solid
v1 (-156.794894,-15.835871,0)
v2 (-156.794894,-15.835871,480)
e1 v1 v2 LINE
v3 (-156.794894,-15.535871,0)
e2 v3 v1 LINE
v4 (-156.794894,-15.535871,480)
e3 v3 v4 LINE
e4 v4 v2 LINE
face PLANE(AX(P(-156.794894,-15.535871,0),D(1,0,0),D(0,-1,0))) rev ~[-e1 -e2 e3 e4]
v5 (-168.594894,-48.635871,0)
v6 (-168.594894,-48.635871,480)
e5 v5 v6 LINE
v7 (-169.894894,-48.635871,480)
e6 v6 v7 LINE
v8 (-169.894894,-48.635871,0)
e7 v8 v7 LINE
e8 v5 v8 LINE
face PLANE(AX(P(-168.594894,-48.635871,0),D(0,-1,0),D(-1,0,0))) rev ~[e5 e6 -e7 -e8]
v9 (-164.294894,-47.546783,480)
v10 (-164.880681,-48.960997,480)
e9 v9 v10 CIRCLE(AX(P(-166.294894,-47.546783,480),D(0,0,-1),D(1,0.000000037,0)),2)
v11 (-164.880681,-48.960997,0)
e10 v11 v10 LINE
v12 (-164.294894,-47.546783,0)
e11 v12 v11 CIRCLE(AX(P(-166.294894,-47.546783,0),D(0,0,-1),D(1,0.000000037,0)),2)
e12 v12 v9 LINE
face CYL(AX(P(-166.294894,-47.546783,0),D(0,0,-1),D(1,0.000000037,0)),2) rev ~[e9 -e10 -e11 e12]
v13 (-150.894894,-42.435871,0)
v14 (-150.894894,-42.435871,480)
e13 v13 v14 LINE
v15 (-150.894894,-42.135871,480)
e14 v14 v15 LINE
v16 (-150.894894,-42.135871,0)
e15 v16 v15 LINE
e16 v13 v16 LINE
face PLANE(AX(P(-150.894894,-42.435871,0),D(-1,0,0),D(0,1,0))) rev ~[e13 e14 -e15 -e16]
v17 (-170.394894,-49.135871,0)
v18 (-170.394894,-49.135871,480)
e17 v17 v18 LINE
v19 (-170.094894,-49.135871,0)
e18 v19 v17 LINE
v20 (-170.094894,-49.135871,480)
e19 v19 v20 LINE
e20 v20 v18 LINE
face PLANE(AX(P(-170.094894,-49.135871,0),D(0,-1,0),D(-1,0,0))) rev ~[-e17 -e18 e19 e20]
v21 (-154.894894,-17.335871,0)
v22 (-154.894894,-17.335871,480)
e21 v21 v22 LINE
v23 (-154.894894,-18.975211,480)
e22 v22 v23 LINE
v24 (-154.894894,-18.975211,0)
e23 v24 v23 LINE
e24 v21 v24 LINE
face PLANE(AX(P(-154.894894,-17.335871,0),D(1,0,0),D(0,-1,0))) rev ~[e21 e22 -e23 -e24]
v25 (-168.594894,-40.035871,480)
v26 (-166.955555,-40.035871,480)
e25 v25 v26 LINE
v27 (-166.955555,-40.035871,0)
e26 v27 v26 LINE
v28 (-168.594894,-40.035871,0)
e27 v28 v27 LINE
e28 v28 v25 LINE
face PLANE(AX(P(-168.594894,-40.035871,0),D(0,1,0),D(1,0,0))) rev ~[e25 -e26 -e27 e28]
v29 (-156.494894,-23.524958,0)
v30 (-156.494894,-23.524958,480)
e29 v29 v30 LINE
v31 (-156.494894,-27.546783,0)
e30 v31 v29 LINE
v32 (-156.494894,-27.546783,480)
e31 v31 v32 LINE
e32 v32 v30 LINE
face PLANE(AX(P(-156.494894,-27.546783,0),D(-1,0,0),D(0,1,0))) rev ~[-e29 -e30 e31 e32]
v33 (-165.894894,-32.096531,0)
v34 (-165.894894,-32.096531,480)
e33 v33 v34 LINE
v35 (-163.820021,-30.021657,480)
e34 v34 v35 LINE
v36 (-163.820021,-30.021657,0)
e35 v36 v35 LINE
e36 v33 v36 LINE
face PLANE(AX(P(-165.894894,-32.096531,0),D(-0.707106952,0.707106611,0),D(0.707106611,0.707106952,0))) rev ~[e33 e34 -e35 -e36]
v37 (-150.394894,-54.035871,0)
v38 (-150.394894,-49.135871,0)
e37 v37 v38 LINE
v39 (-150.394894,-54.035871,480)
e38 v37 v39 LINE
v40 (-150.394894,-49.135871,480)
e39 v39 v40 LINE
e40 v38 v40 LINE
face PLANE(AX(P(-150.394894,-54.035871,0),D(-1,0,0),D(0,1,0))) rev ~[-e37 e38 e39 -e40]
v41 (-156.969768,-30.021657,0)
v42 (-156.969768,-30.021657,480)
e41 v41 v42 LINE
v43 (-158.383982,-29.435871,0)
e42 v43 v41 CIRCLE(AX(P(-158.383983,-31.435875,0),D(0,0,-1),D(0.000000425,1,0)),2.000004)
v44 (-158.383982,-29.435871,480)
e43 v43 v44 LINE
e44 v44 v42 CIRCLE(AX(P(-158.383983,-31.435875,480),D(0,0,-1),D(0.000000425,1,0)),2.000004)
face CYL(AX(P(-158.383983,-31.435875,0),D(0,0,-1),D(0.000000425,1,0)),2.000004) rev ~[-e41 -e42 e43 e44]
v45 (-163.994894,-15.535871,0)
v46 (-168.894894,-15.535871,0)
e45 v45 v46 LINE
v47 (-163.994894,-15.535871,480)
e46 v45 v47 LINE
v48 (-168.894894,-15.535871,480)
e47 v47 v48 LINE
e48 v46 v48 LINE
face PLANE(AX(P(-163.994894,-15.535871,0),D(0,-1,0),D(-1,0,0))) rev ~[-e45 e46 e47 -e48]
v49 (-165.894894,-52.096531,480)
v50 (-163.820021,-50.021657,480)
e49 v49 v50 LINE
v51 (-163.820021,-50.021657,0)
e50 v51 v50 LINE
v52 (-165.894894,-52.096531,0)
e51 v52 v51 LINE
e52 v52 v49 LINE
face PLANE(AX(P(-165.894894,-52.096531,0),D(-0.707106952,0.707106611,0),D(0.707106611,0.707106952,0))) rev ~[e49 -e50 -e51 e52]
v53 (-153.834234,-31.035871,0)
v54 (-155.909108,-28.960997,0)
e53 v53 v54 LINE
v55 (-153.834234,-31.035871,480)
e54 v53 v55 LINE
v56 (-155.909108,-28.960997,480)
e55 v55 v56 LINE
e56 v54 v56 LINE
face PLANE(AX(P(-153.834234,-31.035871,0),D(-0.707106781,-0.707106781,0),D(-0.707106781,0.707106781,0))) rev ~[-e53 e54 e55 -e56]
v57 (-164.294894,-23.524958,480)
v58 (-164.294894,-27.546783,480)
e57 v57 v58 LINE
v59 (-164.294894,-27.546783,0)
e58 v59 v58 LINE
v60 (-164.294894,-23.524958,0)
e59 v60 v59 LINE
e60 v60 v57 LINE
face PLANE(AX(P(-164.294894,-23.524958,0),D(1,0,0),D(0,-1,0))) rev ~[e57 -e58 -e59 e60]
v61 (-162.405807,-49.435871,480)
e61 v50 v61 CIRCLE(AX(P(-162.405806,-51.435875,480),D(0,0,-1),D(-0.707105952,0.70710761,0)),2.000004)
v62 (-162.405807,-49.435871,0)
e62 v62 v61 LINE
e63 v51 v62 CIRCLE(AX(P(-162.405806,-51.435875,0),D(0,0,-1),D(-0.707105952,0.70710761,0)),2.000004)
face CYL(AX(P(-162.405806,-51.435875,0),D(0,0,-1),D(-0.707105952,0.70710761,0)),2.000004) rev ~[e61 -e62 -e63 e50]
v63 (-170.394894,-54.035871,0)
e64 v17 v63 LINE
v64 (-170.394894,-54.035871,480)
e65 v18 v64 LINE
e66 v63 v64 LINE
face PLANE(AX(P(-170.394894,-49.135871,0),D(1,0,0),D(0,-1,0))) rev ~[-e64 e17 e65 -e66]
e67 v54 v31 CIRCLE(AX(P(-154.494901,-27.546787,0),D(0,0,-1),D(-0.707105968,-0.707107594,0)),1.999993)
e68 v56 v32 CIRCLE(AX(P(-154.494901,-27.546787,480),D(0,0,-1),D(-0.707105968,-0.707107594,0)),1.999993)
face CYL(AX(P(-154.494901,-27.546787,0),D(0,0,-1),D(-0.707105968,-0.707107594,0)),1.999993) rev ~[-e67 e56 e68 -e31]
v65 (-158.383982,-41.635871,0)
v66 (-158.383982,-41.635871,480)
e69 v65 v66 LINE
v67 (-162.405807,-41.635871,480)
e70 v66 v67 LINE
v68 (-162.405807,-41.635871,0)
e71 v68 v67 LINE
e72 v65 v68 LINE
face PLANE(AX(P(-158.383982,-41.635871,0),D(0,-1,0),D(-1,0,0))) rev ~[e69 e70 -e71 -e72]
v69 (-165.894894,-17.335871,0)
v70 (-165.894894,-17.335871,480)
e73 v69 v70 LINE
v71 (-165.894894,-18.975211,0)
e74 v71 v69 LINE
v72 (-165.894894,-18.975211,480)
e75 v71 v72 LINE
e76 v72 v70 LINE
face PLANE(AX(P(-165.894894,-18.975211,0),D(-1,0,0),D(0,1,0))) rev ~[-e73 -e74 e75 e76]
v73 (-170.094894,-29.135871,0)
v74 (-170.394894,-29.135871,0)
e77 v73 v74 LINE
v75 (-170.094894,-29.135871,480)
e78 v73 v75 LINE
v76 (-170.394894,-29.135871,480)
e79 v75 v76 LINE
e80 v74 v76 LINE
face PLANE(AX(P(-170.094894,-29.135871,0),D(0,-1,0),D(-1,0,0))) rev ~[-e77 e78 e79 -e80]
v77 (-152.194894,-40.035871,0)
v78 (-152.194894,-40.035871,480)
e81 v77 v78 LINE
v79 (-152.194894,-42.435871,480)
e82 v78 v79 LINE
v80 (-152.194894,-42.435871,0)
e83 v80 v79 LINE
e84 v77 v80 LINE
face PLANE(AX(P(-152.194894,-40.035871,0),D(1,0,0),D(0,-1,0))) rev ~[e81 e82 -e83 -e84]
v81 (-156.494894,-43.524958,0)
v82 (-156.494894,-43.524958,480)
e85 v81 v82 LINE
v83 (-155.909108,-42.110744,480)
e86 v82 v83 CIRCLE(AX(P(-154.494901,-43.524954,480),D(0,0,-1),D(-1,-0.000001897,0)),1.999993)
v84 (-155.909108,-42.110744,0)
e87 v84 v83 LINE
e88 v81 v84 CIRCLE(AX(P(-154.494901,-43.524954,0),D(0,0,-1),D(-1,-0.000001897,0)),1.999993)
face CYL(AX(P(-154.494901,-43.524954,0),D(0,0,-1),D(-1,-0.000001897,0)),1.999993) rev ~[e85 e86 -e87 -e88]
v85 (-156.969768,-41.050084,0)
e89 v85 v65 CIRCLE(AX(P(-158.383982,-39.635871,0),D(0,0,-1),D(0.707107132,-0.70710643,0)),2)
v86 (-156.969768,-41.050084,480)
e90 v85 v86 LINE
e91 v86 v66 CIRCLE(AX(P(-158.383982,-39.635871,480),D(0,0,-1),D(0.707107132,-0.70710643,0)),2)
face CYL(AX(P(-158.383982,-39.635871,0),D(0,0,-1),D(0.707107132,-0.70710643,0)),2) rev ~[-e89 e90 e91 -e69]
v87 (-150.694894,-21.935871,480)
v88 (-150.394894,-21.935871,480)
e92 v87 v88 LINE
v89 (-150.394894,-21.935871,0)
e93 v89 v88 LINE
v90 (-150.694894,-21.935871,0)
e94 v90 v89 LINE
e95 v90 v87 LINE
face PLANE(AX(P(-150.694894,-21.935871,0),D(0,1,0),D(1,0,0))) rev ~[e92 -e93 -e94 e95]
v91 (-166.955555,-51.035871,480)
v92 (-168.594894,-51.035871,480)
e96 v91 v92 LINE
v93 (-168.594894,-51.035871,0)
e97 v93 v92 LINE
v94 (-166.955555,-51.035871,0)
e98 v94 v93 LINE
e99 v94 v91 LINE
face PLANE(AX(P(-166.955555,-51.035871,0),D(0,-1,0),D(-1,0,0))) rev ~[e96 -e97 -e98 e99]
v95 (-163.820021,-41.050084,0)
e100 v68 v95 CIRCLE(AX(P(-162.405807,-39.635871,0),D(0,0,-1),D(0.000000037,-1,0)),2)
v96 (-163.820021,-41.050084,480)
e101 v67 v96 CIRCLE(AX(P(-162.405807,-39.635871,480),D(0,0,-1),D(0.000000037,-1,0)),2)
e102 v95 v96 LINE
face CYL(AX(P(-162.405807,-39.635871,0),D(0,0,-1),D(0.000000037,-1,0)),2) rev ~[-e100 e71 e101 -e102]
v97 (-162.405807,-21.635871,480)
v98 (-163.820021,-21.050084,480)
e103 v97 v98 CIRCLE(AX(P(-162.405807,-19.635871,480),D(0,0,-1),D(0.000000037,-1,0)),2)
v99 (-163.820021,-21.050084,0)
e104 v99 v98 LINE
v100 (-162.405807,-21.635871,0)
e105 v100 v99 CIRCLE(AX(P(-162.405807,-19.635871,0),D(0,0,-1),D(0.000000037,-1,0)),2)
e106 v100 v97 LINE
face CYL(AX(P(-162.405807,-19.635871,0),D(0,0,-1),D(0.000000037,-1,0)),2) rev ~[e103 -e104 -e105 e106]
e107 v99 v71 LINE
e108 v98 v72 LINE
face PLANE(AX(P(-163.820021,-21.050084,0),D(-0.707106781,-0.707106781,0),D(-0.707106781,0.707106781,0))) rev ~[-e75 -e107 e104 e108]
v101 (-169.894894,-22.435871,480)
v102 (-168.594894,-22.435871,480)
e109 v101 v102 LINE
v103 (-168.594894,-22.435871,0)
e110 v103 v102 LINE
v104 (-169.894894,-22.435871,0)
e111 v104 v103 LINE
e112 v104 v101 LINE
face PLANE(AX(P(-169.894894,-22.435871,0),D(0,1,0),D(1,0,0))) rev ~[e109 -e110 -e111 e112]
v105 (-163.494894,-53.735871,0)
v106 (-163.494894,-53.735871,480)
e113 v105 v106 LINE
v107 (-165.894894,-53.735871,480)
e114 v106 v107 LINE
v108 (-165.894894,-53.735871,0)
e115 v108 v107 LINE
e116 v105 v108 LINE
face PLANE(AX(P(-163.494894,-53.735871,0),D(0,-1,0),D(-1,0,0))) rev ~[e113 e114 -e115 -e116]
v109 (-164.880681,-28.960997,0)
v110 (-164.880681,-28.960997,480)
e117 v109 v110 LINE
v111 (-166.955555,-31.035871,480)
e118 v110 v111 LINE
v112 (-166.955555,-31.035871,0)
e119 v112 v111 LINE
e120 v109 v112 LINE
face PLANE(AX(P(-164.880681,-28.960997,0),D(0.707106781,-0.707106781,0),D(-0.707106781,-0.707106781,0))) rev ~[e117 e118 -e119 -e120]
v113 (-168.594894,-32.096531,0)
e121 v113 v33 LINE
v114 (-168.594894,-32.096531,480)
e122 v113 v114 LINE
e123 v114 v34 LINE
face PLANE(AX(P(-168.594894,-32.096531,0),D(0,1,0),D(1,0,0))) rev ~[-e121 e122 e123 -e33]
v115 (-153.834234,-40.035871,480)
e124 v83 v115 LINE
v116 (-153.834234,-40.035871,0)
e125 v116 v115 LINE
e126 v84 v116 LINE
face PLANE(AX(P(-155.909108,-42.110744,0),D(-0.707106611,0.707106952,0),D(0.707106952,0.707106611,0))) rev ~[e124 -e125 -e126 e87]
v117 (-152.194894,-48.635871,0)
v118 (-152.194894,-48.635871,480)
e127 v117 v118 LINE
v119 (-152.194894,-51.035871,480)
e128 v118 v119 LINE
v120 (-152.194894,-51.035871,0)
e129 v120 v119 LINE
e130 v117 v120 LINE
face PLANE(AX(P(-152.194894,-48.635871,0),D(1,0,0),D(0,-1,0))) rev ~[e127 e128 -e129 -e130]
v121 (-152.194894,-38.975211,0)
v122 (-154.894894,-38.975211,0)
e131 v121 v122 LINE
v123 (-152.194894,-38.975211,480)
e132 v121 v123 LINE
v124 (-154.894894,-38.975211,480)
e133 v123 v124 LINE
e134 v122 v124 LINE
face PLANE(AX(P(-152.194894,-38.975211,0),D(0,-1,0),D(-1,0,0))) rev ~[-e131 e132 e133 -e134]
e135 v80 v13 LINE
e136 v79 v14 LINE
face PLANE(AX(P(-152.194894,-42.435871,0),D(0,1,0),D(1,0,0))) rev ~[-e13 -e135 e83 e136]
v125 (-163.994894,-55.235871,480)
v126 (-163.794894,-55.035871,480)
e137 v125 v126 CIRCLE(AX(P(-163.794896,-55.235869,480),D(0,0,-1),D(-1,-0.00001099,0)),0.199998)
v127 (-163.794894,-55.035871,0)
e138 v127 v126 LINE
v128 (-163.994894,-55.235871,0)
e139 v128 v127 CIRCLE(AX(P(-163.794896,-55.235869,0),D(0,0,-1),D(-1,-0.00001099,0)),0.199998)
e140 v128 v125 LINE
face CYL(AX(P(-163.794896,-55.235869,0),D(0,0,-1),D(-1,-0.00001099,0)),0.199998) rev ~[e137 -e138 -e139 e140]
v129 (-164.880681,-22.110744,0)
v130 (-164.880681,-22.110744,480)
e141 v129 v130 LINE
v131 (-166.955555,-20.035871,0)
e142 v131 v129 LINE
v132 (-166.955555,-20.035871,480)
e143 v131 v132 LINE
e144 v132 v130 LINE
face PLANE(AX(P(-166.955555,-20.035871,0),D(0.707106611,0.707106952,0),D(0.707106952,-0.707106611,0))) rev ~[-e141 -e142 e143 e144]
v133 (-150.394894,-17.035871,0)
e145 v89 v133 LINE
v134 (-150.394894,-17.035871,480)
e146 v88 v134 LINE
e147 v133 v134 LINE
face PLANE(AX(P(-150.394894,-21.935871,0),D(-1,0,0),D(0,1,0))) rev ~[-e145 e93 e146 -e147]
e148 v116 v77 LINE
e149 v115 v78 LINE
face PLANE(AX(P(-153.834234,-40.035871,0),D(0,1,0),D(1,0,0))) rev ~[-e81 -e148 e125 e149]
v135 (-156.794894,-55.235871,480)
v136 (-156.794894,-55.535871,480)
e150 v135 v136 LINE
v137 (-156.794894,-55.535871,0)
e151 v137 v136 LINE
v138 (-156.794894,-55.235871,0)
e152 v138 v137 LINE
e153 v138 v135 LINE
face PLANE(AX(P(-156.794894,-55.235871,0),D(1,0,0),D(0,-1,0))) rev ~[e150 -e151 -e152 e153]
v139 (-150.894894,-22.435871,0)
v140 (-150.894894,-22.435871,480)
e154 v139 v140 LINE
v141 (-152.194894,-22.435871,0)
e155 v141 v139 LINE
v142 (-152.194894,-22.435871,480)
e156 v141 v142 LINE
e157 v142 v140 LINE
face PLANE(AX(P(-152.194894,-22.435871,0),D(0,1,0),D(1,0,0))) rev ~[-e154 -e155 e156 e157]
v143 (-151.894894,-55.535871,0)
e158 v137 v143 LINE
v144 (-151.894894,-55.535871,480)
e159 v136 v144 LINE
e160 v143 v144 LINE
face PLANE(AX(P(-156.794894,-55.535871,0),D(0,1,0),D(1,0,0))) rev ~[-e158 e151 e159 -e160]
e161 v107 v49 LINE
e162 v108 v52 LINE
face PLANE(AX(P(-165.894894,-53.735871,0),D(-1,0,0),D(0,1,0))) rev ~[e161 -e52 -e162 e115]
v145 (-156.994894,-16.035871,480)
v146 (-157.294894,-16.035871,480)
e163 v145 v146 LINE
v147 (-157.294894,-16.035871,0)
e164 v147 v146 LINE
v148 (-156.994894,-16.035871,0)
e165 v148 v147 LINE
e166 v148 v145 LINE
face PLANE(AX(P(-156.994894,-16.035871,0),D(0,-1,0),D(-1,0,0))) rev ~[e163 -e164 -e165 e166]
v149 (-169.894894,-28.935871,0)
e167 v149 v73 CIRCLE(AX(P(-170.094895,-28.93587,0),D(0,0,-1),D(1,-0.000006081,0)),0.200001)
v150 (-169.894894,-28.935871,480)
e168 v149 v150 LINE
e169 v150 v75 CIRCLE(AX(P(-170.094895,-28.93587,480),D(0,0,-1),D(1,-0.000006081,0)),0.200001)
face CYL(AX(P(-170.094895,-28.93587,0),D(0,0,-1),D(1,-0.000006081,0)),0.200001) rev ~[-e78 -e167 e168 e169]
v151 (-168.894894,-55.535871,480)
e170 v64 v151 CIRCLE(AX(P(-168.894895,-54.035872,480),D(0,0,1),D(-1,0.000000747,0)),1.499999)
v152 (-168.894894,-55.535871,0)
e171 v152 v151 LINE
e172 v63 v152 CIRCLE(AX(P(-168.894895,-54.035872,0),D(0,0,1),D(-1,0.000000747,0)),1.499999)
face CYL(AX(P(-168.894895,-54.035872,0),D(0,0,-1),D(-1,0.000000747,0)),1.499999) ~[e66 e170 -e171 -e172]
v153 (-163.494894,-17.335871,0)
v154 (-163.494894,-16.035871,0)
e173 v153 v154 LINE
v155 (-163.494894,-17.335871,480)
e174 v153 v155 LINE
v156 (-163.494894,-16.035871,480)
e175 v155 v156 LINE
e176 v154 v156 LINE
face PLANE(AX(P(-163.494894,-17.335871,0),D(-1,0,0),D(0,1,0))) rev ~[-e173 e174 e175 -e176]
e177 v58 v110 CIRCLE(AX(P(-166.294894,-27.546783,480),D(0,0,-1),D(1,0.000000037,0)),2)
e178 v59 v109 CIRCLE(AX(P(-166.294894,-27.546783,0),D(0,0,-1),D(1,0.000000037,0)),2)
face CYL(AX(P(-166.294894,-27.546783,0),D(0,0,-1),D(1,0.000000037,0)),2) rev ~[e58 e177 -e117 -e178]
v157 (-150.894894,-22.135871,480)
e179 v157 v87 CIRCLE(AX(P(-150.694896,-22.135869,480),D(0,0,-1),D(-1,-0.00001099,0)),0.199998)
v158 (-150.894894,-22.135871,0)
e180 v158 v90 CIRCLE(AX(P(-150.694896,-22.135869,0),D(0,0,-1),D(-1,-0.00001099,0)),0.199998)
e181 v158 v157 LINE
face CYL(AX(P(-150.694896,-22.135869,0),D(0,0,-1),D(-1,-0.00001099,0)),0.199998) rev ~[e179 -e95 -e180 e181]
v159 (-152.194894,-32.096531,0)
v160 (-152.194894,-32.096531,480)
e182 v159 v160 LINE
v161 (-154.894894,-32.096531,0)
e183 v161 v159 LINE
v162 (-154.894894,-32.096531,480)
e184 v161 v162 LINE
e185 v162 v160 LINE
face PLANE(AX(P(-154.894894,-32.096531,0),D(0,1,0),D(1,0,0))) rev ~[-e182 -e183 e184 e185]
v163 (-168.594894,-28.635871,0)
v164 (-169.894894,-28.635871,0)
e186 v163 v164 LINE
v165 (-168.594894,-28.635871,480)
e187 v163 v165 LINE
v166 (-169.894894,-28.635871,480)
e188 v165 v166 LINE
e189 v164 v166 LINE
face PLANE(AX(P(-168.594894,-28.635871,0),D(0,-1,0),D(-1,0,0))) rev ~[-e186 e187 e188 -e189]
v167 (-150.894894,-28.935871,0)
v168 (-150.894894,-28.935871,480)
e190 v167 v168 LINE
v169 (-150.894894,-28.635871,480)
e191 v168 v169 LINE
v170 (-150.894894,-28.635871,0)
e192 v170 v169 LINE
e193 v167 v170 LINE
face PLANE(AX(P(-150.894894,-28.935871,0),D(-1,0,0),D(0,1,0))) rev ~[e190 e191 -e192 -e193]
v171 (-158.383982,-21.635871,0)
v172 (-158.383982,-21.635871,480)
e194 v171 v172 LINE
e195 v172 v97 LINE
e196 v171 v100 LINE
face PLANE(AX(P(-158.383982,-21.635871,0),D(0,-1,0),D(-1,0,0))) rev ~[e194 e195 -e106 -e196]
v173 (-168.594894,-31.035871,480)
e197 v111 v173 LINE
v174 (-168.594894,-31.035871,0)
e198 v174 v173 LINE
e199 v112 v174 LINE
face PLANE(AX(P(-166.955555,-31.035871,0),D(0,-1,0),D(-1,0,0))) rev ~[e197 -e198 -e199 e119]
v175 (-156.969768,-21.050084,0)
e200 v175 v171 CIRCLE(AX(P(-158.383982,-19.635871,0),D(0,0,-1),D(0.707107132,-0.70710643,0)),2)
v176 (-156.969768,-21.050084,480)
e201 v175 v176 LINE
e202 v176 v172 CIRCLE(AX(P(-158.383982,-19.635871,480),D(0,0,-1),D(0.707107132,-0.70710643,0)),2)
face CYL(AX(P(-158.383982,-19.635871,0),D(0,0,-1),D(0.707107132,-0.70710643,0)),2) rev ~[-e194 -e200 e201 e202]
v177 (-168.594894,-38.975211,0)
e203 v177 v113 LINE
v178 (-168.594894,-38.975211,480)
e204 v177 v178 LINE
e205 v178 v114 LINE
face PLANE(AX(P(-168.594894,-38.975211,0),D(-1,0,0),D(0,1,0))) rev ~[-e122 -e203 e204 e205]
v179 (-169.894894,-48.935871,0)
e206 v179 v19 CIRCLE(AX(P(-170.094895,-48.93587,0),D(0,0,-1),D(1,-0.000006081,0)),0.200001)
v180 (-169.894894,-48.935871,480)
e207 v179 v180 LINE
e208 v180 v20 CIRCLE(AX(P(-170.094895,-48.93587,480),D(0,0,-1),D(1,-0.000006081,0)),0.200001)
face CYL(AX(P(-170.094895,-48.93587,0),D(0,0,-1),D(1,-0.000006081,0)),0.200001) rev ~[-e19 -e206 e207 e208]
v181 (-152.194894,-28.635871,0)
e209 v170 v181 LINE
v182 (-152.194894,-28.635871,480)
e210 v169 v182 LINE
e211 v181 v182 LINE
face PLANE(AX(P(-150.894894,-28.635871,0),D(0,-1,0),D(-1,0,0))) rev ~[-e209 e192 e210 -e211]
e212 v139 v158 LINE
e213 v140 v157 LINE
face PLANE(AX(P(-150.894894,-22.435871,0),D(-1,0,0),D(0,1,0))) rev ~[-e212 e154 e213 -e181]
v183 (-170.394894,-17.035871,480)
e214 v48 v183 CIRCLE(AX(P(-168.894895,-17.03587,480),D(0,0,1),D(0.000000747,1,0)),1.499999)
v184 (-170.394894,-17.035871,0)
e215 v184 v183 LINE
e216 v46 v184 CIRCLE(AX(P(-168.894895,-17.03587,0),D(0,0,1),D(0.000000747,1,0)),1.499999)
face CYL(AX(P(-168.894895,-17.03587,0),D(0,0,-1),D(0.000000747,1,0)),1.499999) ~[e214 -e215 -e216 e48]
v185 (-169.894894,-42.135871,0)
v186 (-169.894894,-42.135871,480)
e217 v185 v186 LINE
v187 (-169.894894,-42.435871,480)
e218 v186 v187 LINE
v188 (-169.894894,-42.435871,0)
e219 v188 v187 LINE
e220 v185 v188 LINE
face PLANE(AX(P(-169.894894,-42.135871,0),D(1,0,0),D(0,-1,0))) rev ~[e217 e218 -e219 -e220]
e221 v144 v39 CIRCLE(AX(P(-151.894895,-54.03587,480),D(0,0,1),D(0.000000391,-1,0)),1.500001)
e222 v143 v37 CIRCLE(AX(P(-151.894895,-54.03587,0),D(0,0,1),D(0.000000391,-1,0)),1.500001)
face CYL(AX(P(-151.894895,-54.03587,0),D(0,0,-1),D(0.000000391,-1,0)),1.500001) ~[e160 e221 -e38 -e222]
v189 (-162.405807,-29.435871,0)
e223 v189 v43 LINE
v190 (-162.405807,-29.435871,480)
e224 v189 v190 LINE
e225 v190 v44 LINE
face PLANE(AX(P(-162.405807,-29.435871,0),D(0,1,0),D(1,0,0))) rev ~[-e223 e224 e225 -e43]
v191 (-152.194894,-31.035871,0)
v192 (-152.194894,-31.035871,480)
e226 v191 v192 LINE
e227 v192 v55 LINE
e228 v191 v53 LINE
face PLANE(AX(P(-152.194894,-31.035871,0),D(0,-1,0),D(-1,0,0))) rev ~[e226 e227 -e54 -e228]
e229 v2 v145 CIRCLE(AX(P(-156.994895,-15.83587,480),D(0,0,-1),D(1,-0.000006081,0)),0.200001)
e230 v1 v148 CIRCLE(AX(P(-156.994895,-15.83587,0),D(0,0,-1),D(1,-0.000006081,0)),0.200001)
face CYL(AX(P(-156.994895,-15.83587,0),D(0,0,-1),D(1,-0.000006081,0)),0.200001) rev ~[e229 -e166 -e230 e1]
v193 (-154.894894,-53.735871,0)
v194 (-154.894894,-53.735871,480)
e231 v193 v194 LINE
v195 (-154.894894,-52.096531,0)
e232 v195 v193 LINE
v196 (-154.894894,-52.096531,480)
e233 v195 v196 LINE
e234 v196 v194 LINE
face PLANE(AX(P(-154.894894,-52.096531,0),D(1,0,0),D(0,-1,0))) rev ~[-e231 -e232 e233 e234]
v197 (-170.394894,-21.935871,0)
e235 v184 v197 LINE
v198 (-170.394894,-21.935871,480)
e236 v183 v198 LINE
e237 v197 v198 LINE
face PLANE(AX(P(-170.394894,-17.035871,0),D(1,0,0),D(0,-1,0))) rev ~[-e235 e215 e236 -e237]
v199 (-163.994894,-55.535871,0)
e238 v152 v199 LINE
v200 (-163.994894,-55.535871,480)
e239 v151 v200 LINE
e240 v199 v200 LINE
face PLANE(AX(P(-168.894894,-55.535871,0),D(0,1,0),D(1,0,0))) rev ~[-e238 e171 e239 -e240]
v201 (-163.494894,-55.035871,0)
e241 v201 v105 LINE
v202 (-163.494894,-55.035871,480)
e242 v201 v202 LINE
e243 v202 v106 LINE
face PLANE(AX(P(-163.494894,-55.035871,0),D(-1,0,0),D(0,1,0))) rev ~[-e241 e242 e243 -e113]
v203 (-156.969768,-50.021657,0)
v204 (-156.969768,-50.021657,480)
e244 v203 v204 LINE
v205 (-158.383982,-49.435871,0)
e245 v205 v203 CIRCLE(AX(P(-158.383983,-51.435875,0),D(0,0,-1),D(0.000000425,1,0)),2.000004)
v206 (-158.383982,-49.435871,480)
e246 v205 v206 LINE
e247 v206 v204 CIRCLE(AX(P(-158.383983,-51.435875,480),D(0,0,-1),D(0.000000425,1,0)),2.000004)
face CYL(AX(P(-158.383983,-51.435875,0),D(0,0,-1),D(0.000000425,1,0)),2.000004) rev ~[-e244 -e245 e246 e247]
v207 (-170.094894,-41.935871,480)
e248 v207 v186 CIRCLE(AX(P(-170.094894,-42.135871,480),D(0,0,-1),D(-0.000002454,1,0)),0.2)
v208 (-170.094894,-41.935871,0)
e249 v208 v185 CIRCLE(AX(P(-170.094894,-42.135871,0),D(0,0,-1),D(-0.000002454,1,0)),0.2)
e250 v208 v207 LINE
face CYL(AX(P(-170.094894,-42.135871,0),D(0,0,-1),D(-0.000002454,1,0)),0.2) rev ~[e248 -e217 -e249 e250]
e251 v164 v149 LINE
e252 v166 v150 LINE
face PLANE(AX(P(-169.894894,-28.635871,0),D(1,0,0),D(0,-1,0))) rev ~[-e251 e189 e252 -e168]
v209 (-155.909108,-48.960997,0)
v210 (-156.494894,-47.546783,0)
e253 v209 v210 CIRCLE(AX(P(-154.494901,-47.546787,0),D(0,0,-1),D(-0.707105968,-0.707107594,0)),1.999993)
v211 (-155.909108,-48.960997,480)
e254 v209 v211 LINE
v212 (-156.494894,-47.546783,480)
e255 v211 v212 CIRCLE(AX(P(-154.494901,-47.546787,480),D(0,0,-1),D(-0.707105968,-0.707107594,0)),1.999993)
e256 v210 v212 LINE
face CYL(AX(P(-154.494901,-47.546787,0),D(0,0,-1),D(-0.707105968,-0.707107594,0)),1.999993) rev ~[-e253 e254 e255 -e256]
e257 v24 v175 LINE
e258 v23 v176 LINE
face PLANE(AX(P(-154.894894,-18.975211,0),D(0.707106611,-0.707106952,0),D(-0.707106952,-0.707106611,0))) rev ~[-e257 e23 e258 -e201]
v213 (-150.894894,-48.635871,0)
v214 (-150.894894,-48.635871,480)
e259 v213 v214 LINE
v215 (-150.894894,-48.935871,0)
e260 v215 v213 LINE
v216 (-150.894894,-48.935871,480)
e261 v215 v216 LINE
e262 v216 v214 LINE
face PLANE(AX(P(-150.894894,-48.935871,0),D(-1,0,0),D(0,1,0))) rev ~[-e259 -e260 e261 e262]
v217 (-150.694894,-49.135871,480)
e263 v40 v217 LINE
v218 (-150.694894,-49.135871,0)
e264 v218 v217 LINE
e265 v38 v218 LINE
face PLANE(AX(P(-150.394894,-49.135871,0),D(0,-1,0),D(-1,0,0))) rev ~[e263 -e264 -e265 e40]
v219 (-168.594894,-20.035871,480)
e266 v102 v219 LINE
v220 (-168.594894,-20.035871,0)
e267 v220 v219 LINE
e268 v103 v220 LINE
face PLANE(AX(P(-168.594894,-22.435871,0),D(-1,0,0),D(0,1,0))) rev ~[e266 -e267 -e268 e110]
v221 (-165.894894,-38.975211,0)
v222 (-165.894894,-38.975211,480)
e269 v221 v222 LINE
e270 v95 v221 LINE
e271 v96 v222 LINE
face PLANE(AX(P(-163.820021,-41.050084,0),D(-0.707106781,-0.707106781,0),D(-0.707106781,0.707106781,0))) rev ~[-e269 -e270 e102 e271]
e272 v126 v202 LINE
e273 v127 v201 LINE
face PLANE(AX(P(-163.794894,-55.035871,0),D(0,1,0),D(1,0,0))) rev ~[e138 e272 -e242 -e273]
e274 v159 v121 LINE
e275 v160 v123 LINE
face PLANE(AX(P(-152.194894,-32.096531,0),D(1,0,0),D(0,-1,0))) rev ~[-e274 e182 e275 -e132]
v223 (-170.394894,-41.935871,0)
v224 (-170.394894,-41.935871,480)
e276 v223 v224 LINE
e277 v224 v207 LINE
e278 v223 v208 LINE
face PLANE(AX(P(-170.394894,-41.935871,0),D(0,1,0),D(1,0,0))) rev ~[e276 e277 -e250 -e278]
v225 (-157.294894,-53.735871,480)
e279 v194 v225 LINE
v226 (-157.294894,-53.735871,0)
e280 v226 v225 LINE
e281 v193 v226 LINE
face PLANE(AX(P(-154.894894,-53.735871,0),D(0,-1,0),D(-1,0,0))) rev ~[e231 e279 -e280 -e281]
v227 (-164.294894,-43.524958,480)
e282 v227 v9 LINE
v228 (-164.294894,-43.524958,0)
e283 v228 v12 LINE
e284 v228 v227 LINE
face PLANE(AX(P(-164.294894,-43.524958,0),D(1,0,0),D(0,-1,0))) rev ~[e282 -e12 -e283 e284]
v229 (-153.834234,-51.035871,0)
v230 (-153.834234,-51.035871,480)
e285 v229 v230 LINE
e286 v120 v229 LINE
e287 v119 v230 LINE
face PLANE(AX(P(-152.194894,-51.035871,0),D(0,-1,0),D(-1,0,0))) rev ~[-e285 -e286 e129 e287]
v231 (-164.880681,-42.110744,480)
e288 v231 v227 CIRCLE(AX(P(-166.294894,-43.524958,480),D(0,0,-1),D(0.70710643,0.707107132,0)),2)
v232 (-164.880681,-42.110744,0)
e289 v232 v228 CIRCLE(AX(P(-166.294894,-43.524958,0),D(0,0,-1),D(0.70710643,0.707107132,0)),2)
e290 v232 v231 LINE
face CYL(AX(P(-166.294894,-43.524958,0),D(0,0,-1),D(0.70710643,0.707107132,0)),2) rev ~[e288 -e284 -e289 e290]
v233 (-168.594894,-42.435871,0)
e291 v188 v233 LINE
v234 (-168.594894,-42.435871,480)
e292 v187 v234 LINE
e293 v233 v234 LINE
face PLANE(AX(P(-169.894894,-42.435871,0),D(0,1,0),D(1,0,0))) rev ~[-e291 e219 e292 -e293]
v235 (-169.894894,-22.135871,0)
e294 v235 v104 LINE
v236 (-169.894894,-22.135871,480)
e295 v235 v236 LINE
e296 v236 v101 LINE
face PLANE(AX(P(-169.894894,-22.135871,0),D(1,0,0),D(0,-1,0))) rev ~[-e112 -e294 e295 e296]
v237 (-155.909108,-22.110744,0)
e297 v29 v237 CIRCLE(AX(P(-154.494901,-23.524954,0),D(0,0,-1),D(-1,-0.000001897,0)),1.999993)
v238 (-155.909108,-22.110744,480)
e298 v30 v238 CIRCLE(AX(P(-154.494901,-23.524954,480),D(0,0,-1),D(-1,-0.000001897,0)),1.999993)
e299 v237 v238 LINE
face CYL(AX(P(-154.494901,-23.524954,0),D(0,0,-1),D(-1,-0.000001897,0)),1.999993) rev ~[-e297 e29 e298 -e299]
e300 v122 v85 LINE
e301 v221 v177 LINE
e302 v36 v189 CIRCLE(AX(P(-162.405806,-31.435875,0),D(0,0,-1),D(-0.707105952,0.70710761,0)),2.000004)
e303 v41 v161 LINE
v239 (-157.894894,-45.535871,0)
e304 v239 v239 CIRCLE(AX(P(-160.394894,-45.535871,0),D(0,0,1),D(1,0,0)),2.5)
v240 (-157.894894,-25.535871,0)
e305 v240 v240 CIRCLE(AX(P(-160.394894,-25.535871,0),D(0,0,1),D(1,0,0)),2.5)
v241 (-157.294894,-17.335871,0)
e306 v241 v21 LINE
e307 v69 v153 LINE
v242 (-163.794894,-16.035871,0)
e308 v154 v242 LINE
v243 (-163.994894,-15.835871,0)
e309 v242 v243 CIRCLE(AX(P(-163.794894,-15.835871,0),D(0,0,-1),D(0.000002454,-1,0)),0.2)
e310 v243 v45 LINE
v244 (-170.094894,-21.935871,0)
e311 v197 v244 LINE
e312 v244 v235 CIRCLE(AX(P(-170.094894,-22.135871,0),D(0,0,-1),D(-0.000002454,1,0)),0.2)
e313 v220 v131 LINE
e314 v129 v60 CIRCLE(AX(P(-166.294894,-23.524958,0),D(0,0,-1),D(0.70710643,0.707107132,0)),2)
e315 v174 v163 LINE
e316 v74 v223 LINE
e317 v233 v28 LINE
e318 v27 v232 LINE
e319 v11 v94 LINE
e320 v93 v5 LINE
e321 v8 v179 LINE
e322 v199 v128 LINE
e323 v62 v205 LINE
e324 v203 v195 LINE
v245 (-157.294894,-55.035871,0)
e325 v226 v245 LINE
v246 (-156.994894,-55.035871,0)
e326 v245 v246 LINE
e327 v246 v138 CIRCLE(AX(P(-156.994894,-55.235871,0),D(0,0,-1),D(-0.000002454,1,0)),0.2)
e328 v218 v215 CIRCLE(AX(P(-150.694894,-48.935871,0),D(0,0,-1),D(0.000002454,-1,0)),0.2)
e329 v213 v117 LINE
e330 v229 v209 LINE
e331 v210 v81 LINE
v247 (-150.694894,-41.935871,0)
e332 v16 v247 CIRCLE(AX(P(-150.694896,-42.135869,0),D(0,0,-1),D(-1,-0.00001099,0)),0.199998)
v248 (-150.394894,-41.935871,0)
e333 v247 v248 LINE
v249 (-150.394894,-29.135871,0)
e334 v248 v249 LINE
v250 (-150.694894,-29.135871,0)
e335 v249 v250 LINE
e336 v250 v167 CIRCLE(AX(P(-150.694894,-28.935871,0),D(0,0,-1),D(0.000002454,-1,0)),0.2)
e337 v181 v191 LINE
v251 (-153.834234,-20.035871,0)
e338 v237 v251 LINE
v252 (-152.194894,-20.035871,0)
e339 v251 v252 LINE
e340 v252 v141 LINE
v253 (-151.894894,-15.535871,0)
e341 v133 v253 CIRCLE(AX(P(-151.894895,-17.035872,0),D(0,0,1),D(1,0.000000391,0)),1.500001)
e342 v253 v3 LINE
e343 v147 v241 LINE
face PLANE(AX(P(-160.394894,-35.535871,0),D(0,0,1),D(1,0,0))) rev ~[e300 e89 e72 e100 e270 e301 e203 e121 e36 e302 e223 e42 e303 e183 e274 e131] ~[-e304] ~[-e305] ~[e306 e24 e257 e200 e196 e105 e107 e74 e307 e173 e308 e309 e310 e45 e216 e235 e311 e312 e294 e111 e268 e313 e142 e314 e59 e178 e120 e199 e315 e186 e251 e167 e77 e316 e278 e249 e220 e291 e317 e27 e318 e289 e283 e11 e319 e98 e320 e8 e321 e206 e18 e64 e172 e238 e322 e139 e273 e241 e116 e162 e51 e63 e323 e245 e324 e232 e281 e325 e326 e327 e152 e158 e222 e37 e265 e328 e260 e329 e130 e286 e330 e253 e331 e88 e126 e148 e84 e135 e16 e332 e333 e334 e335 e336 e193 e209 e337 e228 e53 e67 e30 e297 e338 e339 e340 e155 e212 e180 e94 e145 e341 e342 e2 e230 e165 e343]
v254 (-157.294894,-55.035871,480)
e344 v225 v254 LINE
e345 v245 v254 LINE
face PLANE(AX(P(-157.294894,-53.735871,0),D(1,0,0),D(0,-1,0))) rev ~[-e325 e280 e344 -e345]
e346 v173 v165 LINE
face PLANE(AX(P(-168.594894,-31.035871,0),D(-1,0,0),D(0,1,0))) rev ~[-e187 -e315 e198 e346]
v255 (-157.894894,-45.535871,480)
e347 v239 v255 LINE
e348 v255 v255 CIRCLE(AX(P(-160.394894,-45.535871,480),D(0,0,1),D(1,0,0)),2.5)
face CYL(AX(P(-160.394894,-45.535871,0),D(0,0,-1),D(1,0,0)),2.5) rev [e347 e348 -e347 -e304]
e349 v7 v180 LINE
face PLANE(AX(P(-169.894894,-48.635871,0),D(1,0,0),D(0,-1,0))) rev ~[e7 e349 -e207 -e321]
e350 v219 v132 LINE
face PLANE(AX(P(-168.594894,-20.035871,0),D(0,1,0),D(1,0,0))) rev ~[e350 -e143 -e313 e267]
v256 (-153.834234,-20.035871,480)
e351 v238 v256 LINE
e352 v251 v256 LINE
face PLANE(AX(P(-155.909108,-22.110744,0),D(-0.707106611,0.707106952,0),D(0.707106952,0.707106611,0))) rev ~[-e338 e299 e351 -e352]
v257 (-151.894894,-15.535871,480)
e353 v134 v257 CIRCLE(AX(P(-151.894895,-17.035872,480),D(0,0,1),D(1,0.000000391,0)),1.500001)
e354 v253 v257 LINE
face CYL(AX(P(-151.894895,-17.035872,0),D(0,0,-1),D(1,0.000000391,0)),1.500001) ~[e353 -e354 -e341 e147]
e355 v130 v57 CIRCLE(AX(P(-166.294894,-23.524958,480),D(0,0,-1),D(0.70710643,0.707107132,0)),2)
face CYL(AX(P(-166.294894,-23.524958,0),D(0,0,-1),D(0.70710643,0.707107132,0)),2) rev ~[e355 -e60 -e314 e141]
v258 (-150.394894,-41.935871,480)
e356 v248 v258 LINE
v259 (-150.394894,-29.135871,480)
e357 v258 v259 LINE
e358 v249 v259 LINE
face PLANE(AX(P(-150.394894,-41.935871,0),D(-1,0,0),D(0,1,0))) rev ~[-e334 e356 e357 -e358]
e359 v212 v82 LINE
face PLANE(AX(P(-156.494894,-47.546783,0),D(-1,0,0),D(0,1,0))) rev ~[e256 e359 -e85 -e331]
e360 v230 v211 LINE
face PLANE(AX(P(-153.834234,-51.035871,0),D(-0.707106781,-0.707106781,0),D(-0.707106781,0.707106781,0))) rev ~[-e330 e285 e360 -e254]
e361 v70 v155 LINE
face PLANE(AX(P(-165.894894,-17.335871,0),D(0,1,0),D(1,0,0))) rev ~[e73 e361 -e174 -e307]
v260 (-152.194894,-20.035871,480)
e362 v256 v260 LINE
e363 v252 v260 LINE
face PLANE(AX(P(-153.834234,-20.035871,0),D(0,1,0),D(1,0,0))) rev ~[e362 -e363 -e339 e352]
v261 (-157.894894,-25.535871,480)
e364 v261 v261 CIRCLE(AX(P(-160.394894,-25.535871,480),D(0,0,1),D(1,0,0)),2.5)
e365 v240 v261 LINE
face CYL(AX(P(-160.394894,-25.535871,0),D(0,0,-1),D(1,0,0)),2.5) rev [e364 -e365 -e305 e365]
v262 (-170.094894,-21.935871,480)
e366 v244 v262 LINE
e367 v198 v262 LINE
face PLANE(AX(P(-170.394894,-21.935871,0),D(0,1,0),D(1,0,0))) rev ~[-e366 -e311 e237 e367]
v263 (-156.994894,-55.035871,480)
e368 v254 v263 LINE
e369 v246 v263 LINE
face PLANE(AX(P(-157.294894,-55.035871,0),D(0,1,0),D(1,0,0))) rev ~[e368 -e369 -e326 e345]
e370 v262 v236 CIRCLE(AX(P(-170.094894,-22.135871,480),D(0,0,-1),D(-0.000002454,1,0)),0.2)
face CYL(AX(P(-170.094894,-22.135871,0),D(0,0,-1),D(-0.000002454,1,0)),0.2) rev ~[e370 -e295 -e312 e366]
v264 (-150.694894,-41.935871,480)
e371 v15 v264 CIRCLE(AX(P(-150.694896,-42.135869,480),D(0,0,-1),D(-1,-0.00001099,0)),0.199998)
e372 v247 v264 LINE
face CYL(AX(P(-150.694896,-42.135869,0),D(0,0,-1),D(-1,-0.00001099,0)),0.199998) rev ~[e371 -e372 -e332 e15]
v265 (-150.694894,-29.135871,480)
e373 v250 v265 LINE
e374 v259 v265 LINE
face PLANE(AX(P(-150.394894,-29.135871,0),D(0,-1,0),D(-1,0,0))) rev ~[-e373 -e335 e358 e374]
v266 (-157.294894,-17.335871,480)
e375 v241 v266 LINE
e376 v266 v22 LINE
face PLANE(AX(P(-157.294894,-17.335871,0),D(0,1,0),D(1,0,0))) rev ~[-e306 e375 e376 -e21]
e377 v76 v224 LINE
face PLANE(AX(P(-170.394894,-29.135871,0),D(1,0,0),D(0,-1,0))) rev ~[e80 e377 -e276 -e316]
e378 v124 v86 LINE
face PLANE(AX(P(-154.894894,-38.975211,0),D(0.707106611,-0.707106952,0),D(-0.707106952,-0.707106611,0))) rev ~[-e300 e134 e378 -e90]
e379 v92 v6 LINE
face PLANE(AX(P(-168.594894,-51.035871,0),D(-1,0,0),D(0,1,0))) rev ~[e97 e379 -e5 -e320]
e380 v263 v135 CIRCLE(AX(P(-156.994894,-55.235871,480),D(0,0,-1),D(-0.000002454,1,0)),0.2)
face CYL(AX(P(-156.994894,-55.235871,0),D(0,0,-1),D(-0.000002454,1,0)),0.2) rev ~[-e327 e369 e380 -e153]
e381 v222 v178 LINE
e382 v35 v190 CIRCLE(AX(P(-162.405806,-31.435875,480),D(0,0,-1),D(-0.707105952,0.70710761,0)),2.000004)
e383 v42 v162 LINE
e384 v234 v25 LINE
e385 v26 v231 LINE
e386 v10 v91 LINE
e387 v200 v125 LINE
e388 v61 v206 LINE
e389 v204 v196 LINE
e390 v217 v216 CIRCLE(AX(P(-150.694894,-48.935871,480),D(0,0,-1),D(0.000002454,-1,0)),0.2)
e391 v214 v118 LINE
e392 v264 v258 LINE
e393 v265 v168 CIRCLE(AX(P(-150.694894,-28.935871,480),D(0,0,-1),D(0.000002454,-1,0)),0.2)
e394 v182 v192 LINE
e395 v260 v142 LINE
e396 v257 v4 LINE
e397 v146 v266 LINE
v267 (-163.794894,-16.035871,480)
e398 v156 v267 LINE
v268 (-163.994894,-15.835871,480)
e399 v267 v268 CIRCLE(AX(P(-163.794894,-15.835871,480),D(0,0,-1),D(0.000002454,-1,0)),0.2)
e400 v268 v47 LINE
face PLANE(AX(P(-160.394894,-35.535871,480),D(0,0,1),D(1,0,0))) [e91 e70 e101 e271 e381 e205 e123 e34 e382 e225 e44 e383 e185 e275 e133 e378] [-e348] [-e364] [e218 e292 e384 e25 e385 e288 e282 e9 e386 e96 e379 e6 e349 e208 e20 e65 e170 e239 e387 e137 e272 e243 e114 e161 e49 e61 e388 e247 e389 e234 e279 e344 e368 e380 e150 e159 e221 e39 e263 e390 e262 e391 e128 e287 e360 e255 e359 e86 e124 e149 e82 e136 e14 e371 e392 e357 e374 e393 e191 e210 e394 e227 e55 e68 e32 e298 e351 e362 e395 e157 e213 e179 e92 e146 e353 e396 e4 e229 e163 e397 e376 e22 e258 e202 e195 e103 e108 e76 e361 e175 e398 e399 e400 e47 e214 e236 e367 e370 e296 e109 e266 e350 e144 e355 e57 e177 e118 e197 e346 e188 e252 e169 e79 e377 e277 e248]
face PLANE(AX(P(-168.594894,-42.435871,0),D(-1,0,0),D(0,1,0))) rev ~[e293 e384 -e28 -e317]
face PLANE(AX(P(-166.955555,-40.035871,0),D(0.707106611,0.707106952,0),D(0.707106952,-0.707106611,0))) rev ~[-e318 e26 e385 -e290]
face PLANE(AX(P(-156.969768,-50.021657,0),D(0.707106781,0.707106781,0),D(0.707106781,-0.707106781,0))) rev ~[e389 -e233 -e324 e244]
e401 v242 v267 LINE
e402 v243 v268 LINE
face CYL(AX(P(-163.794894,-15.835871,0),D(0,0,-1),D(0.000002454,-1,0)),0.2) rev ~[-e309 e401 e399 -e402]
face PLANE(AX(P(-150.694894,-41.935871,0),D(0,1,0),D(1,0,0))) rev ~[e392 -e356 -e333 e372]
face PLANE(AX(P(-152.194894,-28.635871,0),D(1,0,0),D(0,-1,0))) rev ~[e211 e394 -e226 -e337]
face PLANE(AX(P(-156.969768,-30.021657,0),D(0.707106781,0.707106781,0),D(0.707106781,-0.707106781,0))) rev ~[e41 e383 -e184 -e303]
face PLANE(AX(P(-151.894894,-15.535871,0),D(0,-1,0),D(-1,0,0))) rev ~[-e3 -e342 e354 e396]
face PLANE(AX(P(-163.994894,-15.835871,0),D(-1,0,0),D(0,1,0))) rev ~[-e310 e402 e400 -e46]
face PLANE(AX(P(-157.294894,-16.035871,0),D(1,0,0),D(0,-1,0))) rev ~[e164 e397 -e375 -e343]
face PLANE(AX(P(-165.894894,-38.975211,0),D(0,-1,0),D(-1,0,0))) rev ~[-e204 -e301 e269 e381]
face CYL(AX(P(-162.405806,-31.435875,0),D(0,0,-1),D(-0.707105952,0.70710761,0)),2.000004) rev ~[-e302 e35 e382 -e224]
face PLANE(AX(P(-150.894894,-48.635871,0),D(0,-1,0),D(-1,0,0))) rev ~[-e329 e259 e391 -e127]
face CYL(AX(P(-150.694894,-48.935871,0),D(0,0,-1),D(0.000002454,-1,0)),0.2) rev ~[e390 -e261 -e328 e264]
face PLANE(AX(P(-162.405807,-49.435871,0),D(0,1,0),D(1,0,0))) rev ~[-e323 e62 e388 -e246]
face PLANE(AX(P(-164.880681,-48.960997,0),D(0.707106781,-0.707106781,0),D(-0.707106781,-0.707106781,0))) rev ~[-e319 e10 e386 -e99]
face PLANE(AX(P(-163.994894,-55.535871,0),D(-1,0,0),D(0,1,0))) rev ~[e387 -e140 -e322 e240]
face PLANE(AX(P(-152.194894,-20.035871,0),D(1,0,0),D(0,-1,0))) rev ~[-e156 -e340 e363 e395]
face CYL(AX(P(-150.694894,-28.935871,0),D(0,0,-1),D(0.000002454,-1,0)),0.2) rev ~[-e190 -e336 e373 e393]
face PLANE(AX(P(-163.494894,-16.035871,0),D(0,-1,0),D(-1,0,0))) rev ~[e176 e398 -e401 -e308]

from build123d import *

# Parameters (mm, degrees)
F0_R     = 2.5
F1_DEPTH = 480


with BuildPart() as f1:
    # F0 (on Top) → F1 (new body)
    with BuildSketch(Plane.XY):
        with BuildLine():
            Line((-154.894894, -55.535871), (-151.894894, -55.535871))
            ThreePointArc((-151.894894, -55.535871), (-150.834234, -55.096531), (-150.394894, -54.035871))
            Line((-150.394894, -54.035871), (-150.394894, -51.035871))
            Line((-150.394894, -51.035871), (-150.394894, -49.135871))
            Line((-150.394894, -49.135871), (-150.694894, -49.135871))
            ThreePointArc((-150.694894, -49.135871), (-150.836316, -49.077292), (-150.894894, -48.935871))
            Line((-150.894894, -48.935871), (-150.894894, -48.635871))
            Line((-150.894894, -48.635871), (-152.194894, -48.635871))
            Line((-152.194894, -48.635871), (-152.194894, -51.035871))
            Line((-152.194894, -51.035871), (-153.834234, -51.035871))
            Line((-153.834234, -51.035871), (-155.909108, -48.960997))
            ThreePointArc((-155.909108, -48.960997), (-156.342654, -48.31215), (-156.494894, -47.546783))
            Line((-156.494894, -47.546783), (-156.494894, -43.524958))
            ThreePointArc((-156.494894, -43.524958), (-156.342654, -42.759591), (-155.909108, -42.110744))
            Line((-155.909108, -42.110744), (-153.834234, -40.035871))
            Line((-153.834234, -40.035871), (-152.194894, -40.035871))
            Line((-152.194894, -40.035871), (-152.194894, -42.435871))
            Line((-152.194894, -42.435871), (-150.894894, -42.435871))
            Line((-150.894894, -42.435871), (-150.894894, -42.135871))
            ThreePointArc((-150.894894, -42.135871), (-150.836316, -41.994449), (-150.694894, -41.935871))
            Line((-150.694894, -41.935871), (-150.394894, -41.935871))
            Line((-150.394894, -41.935871), (-150.394894, -40.035871))
            Line((-150.394894, -40.035871), (-150.394894, -37.035871))
            Line((-150.394894, -37.035871), (-150.394894, -35.535871))
            Line((-150.394894, -35.535871), (-150.394894, -34.035871))
            Line((-150.394894, -34.035871), (-150.394894, -31.035871))
            Line((-150.394894, -31.035871), (-150.394894, -29.135871))
            Line((-150.394894, -29.135871), (-150.694894, -29.135871))
            ThreePointArc((-150.694894, -29.135871), (-150.836316, -29.077292), (-150.894894, -28.935871))
            Line((-150.894894, -28.935871), (-150.894894, -28.635871))
            Line((-150.894894, -28.635871), (-152.194894, -28.635871))
            Line((-152.194894, -28.635871), (-152.194894, -31.035871))
            Line((-152.194894, -31.035871), (-153.834234, -31.035871))
            Line((-153.834234, -31.035871), (-155.909108, -28.960997))
            ThreePointArc((-155.909108, -28.960997), (-156.342654, -28.31215), (-156.494894, -27.546783))
            Line((-156.494894, -27.546783), (-156.494894, -23.524958))
            ThreePointArc((-156.494894, -23.524958), (-156.342654, -22.759591), (-155.909108, -22.110744))
            Line((-155.909108, -22.110744), (-153.834234, -20.035871))
            Line((-153.834234, -20.035871), (-152.194894, -20.035871))
            Line((-152.194894, -20.035871), (-152.194894, -22.435871))
            Line((-152.194894, -22.435871), (-150.894894, -22.435871))
            Line((-150.894894, -22.435871), (-150.894894, -22.135871))
            ThreePointArc((-150.894894, -22.135871), (-150.836316, -21.994449), (-150.694894, -21.935871))
            Line((-150.694894, -21.935871), (-150.394894, -21.935871))
            Line((-150.394894, -21.935871), (-150.394894, -20.035871))
            Line((-150.394894, -20.035871), (-150.394894, -17.035871))
            ThreePointArc((-150.394894, -17.035871), (-150.834234, -15.975211), (-151.894894, -15.535871))
            Line((-151.894894, -15.535871), (-154.894894, -15.535871))
            Line((-154.894894, -15.535871), (-156.294894, -15.535871))
            Line((-156.294894, -15.535871), (-156.794894, -15.535871))
            Line((-156.794894, -15.535871), (-156.794894, -15.835871))
            ThreePointArc((-156.794894, -15.835871), (-156.853473, -15.977292), (-156.994894, -16.035871))
            Line((-156.994894, -16.035871), (-157.294894, -16.035871))
            Line((-157.294894, -16.035871), (-157.294894, -17.335871))
            Line((-157.294894, -17.335871), (-154.894894, -17.335871))
            Line((-154.894894, -17.335871), (-154.894894, -18.975211))
            Line((-154.894894, -18.975211), (-156.969768, -21.050084))
            ThreePointArc((-156.969768, -21.050084), (-157.618615, -21.48363), (-158.383982, -21.635871))
            Line((-158.383982, -21.635871), (-162.405807, -21.635871))
            ThreePointArc((-162.405807, -21.635871), (-163.171174, -21.48363), (-163.820021, -21.050084))
            Line((-163.820021, -21.050084), (-165.894894, -18.975211))
            Line((-165.894894, -18.975211), (-165.894894, -17.335871))
            Line((-165.894894, -17.335871), (-163.494894, -17.335871))
            Line((-163.494894, -17.335871), (-163.494894, -16.035871))
            Line((-163.494894, -16.035871), (-163.794894, -16.035871))
            ThreePointArc((-163.794894, -16.035871), (-163.936316, -15.977292), (-163.994894, -15.835871))
            Line((-163.994894, -15.835871), (-163.994894, -15.535871))
            Line((-163.994894, -15.535871), (-164.494894, -15.535871))
            Line((-164.494894, -15.535871), (-165.894894, -15.535871))
            Line((-165.894894, -15.535871), (-168.894894, -15.535871))
            ThreePointArc((-168.894894, -15.535871), (-169.955555, -15.975211), (-170.394894, -17.035871))
            Line((-170.394894, -17.035871), (-170.394894, -20.035871))
            Line((-170.394894, -20.035871), (-170.394894, -21.935871))
            Line((-170.394894, -21.935871), (-170.094894, -21.935871))
            ThreePointArc((-170.094894, -21.935871), (-169.953473, -21.994449), (-169.894894, -22.135871))
            Line((-169.894894, -22.135871), (-169.894894, -22.435871))
            Line((-169.894894, -22.435871), (-168.594894, -22.435871))
            Line((-168.594894, -22.435871), (-168.594894, -20.035871))
            Line((-168.594894, -20.035871), (-166.955555, -20.035871))
            Line((-166.955555, -20.035871), (-164.880681, -22.110744))
            ThreePointArc((-164.880681, -22.110744), (-164.447135, -22.759591), (-164.294894, -23.524958))
            Line((-164.294894, -23.524958), (-164.294894, -27.546783))
            ThreePointArc((-164.294894, -27.546783), (-164.447135, -28.31215), (-164.880681, -28.960997))
            Line((-164.880681, -28.960997), (-166.955555, -31.035871))
            Line((-166.955555, -31.035871), (-168.594894, -31.035871))
            Line((-168.594894, -31.035871), (-168.594894, -28.635871))
            Line((-168.594894, -28.635871), (-169.894894, -28.635871))
            Line((-169.894894, -28.635871), (-169.894894, -28.935871))
            ThreePointArc((-169.894894, -28.935871), (-169.953473, -29.077292), (-170.094894, -29.135871))
            Line((-170.094894, -29.135871), (-170.394894, -29.135871))
            Line((-170.394894, -29.135871), (-170.394894, -31.035871))
            Line((-170.394894, -31.035871), (-170.394894, -34.035871))
            Line((-170.394894, -34.035871), (-170.394894, -35.535871))
            Line((-170.394894, -35.535871), (-170.394894, -37.035871))
            Line((-170.394894, -37.035871), (-170.394894, -40.035871))
            Line((-170.394894, -40.035871), (-170.394894, -41.935871))
            Line((-170.394894, -41.935871), (-170.094894, -41.935871))
            ThreePointArc((-170.094894, -41.935871), (-169.953473, -41.994449), (-169.894894, -42.135871))
            Line((-169.894894, -42.135871), (-169.894894, -42.435871))
            Line((-169.894894, -42.435871), (-168.594894, -42.435871))
            Line((-168.594894, -42.435871), (-168.594894, -40.035871))
            Line((-168.594894, -40.035871), (-166.955555, -40.035871))
            Line((-166.955555, -40.035871), (-164.880681, -42.110744))
            ThreePointArc((-164.880681, -42.110744), (-164.447135, -42.759591), (-164.294894, -43.524958))
            Line((-164.294894, -43.524958), (-164.294894, -47.546783))
            ThreePointArc((-164.294894, -47.546783), (-164.447135, -48.31215), (-164.880681, -48.960997))
            Line((-164.880681, -48.960997), (-166.955555, -51.035871))
            Line((-166.955555, -51.035871), (-168.594894, -51.035871))
            Line((-168.594894, -51.035871), (-168.594894, -48.635871))
            Line((-168.594894, -48.635871), (-169.894894, -48.635871))
            Line((-169.894894, -48.635871), (-169.894894, -48.935871))
            ThreePointArc((-169.894894, -48.935871), (-169.953473, -49.077292), (-170.094894, -49.135871))
            Line((-170.094894, -49.135871), (-170.394894, -49.135871))
            Line((-170.394894, -49.135871), (-170.394894, -51.035871))
            Line((-170.394894, -51.035871), (-170.394894, -54.035871))
            ThreePointArc((-170.394894, -54.035871), (-169.955555, -55.096531), (-168.894894, -55.535871))
            Line((-168.894894, -55.535871), (-165.894894, -55.535871))
            Line((-165.894894, -55.535871), (-164.494894, -55.535871))
            Line((-164.494894, -55.535871), (-163.994894, -55.535871))
            Line((-163.994894, -55.535871), (-163.994894, -55.235871))
            ThreePointArc((-163.994894, -55.235871), (-163.936316, -55.094449), (-163.794894, -55.035871))
            Line((-163.794894, -55.035871), (-163.494894, -55.035871))
            Line((-163.494894, -55.035871), (-163.494894, -53.735871))
            Line((-163.494894, -53.735871), (-165.894894, -53.735871))
            Line((-165.894894, -53.735871), (-165.894894, -52.096531))
            Line((-165.894894, -52.096531), (-163.820021, -50.021657))
            ThreePointArc((-163.820021, -50.021657), (-163.171174, -49.588112), (-162.405807, -49.435871))
            Line((-162.405807, -49.435871), (-158.383982, -49.435871))
            ThreePointArc((-158.383982, -49.435871), (-157.618615, -49.588112), (-156.969768, -50.021657))
            Line((-156.969768, -50.021657), (-154.894894, -52.096531))
            Line((-154.894894, -52.096531), (-154.894894, -53.735871))
            Line((-154.894894, -53.735871), (-157.294894, -53.735871))
            Line((-157.294894, -53.735871), (-157.294894, -55.035871))
            Line((-157.294894, -55.035871), (-156.994894, -55.035871))
            ThreePointArc((-156.994894, -55.035871), (-156.853473, -55.094449), (-156.794894, -55.235871))
            Line((-156.794894, -55.235871), (-156.794894, -55.535871))
            Line((-156.794894, -55.535871), (-156.294894, -55.535871))
            Line((-156.294894, -55.535871), (-154.894894, -55.535871))
        make_face()
        with Locations((-160.394894, -45.535871)):
            Circle(F0_R, mode=Mode.SUBTRACT)
        with BuildLine():
            ThreePointArc((-156.969768, -41.050084), (-157.618615, -41.48363), (-158.383982, -41.635871))
            Line((-158.383982, -41.635871), (-162.405807, -41.635871))
            ThreePointArc((-162.405807, -41.635871), (-163.171174, -41.48363), (-163.820021, -41.050084))
            Line((-163.820021, -41.050084), (-165.894894, -38.975211))
            Line((-165.894894, -38.975211), (-168.594894, -38.975211))
            Line((-168.594894, -38.975211), (-168.594894, -35.535871))
            Line((-168.594894, -35.535871), (-168.594894, -32.096531))
            Line((-168.594894, -32.096531), (-165.894894, -32.096531))
            Line((-165.894894, -32.096531), (-163.820021, -30.021657))
            ThreePointArc((-163.820021, -30.021657), (-163.171174, -29.588112), (-162.405807, -29.435871))
            Line((-162.405807, -29.435871), (-158.383982, -29.435871))
            ThreePointArc((-158.383982, -29.435871), (-157.618615, -29.588112), (-156.969768, -30.021657))
            Line((-156.969768, -30.021657), (-154.894894, -32.096531))
            Line((-154.894894, -32.096531), (-152.194894, -32.096531))
            Line((-152.194894, -32.096531), (-152.194894, -35.535871))
            Line((-152.194894, -35.535871), (-152.194894, -38.975211))
            Line((-152.194894, -38.975211), (-154.894894, -38.975211))
            Line((-154.894894, -38.975211), (-156.969768, -41.050084))
        make_face(mode=Mode.SUBTRACT)
        with Locations((-160.394894, -25.535871)):
            Circle(F0_R, mode=Mode.SUBTRACT)
    extrude(amount=F1_DEPTH)


solid = f1.part
